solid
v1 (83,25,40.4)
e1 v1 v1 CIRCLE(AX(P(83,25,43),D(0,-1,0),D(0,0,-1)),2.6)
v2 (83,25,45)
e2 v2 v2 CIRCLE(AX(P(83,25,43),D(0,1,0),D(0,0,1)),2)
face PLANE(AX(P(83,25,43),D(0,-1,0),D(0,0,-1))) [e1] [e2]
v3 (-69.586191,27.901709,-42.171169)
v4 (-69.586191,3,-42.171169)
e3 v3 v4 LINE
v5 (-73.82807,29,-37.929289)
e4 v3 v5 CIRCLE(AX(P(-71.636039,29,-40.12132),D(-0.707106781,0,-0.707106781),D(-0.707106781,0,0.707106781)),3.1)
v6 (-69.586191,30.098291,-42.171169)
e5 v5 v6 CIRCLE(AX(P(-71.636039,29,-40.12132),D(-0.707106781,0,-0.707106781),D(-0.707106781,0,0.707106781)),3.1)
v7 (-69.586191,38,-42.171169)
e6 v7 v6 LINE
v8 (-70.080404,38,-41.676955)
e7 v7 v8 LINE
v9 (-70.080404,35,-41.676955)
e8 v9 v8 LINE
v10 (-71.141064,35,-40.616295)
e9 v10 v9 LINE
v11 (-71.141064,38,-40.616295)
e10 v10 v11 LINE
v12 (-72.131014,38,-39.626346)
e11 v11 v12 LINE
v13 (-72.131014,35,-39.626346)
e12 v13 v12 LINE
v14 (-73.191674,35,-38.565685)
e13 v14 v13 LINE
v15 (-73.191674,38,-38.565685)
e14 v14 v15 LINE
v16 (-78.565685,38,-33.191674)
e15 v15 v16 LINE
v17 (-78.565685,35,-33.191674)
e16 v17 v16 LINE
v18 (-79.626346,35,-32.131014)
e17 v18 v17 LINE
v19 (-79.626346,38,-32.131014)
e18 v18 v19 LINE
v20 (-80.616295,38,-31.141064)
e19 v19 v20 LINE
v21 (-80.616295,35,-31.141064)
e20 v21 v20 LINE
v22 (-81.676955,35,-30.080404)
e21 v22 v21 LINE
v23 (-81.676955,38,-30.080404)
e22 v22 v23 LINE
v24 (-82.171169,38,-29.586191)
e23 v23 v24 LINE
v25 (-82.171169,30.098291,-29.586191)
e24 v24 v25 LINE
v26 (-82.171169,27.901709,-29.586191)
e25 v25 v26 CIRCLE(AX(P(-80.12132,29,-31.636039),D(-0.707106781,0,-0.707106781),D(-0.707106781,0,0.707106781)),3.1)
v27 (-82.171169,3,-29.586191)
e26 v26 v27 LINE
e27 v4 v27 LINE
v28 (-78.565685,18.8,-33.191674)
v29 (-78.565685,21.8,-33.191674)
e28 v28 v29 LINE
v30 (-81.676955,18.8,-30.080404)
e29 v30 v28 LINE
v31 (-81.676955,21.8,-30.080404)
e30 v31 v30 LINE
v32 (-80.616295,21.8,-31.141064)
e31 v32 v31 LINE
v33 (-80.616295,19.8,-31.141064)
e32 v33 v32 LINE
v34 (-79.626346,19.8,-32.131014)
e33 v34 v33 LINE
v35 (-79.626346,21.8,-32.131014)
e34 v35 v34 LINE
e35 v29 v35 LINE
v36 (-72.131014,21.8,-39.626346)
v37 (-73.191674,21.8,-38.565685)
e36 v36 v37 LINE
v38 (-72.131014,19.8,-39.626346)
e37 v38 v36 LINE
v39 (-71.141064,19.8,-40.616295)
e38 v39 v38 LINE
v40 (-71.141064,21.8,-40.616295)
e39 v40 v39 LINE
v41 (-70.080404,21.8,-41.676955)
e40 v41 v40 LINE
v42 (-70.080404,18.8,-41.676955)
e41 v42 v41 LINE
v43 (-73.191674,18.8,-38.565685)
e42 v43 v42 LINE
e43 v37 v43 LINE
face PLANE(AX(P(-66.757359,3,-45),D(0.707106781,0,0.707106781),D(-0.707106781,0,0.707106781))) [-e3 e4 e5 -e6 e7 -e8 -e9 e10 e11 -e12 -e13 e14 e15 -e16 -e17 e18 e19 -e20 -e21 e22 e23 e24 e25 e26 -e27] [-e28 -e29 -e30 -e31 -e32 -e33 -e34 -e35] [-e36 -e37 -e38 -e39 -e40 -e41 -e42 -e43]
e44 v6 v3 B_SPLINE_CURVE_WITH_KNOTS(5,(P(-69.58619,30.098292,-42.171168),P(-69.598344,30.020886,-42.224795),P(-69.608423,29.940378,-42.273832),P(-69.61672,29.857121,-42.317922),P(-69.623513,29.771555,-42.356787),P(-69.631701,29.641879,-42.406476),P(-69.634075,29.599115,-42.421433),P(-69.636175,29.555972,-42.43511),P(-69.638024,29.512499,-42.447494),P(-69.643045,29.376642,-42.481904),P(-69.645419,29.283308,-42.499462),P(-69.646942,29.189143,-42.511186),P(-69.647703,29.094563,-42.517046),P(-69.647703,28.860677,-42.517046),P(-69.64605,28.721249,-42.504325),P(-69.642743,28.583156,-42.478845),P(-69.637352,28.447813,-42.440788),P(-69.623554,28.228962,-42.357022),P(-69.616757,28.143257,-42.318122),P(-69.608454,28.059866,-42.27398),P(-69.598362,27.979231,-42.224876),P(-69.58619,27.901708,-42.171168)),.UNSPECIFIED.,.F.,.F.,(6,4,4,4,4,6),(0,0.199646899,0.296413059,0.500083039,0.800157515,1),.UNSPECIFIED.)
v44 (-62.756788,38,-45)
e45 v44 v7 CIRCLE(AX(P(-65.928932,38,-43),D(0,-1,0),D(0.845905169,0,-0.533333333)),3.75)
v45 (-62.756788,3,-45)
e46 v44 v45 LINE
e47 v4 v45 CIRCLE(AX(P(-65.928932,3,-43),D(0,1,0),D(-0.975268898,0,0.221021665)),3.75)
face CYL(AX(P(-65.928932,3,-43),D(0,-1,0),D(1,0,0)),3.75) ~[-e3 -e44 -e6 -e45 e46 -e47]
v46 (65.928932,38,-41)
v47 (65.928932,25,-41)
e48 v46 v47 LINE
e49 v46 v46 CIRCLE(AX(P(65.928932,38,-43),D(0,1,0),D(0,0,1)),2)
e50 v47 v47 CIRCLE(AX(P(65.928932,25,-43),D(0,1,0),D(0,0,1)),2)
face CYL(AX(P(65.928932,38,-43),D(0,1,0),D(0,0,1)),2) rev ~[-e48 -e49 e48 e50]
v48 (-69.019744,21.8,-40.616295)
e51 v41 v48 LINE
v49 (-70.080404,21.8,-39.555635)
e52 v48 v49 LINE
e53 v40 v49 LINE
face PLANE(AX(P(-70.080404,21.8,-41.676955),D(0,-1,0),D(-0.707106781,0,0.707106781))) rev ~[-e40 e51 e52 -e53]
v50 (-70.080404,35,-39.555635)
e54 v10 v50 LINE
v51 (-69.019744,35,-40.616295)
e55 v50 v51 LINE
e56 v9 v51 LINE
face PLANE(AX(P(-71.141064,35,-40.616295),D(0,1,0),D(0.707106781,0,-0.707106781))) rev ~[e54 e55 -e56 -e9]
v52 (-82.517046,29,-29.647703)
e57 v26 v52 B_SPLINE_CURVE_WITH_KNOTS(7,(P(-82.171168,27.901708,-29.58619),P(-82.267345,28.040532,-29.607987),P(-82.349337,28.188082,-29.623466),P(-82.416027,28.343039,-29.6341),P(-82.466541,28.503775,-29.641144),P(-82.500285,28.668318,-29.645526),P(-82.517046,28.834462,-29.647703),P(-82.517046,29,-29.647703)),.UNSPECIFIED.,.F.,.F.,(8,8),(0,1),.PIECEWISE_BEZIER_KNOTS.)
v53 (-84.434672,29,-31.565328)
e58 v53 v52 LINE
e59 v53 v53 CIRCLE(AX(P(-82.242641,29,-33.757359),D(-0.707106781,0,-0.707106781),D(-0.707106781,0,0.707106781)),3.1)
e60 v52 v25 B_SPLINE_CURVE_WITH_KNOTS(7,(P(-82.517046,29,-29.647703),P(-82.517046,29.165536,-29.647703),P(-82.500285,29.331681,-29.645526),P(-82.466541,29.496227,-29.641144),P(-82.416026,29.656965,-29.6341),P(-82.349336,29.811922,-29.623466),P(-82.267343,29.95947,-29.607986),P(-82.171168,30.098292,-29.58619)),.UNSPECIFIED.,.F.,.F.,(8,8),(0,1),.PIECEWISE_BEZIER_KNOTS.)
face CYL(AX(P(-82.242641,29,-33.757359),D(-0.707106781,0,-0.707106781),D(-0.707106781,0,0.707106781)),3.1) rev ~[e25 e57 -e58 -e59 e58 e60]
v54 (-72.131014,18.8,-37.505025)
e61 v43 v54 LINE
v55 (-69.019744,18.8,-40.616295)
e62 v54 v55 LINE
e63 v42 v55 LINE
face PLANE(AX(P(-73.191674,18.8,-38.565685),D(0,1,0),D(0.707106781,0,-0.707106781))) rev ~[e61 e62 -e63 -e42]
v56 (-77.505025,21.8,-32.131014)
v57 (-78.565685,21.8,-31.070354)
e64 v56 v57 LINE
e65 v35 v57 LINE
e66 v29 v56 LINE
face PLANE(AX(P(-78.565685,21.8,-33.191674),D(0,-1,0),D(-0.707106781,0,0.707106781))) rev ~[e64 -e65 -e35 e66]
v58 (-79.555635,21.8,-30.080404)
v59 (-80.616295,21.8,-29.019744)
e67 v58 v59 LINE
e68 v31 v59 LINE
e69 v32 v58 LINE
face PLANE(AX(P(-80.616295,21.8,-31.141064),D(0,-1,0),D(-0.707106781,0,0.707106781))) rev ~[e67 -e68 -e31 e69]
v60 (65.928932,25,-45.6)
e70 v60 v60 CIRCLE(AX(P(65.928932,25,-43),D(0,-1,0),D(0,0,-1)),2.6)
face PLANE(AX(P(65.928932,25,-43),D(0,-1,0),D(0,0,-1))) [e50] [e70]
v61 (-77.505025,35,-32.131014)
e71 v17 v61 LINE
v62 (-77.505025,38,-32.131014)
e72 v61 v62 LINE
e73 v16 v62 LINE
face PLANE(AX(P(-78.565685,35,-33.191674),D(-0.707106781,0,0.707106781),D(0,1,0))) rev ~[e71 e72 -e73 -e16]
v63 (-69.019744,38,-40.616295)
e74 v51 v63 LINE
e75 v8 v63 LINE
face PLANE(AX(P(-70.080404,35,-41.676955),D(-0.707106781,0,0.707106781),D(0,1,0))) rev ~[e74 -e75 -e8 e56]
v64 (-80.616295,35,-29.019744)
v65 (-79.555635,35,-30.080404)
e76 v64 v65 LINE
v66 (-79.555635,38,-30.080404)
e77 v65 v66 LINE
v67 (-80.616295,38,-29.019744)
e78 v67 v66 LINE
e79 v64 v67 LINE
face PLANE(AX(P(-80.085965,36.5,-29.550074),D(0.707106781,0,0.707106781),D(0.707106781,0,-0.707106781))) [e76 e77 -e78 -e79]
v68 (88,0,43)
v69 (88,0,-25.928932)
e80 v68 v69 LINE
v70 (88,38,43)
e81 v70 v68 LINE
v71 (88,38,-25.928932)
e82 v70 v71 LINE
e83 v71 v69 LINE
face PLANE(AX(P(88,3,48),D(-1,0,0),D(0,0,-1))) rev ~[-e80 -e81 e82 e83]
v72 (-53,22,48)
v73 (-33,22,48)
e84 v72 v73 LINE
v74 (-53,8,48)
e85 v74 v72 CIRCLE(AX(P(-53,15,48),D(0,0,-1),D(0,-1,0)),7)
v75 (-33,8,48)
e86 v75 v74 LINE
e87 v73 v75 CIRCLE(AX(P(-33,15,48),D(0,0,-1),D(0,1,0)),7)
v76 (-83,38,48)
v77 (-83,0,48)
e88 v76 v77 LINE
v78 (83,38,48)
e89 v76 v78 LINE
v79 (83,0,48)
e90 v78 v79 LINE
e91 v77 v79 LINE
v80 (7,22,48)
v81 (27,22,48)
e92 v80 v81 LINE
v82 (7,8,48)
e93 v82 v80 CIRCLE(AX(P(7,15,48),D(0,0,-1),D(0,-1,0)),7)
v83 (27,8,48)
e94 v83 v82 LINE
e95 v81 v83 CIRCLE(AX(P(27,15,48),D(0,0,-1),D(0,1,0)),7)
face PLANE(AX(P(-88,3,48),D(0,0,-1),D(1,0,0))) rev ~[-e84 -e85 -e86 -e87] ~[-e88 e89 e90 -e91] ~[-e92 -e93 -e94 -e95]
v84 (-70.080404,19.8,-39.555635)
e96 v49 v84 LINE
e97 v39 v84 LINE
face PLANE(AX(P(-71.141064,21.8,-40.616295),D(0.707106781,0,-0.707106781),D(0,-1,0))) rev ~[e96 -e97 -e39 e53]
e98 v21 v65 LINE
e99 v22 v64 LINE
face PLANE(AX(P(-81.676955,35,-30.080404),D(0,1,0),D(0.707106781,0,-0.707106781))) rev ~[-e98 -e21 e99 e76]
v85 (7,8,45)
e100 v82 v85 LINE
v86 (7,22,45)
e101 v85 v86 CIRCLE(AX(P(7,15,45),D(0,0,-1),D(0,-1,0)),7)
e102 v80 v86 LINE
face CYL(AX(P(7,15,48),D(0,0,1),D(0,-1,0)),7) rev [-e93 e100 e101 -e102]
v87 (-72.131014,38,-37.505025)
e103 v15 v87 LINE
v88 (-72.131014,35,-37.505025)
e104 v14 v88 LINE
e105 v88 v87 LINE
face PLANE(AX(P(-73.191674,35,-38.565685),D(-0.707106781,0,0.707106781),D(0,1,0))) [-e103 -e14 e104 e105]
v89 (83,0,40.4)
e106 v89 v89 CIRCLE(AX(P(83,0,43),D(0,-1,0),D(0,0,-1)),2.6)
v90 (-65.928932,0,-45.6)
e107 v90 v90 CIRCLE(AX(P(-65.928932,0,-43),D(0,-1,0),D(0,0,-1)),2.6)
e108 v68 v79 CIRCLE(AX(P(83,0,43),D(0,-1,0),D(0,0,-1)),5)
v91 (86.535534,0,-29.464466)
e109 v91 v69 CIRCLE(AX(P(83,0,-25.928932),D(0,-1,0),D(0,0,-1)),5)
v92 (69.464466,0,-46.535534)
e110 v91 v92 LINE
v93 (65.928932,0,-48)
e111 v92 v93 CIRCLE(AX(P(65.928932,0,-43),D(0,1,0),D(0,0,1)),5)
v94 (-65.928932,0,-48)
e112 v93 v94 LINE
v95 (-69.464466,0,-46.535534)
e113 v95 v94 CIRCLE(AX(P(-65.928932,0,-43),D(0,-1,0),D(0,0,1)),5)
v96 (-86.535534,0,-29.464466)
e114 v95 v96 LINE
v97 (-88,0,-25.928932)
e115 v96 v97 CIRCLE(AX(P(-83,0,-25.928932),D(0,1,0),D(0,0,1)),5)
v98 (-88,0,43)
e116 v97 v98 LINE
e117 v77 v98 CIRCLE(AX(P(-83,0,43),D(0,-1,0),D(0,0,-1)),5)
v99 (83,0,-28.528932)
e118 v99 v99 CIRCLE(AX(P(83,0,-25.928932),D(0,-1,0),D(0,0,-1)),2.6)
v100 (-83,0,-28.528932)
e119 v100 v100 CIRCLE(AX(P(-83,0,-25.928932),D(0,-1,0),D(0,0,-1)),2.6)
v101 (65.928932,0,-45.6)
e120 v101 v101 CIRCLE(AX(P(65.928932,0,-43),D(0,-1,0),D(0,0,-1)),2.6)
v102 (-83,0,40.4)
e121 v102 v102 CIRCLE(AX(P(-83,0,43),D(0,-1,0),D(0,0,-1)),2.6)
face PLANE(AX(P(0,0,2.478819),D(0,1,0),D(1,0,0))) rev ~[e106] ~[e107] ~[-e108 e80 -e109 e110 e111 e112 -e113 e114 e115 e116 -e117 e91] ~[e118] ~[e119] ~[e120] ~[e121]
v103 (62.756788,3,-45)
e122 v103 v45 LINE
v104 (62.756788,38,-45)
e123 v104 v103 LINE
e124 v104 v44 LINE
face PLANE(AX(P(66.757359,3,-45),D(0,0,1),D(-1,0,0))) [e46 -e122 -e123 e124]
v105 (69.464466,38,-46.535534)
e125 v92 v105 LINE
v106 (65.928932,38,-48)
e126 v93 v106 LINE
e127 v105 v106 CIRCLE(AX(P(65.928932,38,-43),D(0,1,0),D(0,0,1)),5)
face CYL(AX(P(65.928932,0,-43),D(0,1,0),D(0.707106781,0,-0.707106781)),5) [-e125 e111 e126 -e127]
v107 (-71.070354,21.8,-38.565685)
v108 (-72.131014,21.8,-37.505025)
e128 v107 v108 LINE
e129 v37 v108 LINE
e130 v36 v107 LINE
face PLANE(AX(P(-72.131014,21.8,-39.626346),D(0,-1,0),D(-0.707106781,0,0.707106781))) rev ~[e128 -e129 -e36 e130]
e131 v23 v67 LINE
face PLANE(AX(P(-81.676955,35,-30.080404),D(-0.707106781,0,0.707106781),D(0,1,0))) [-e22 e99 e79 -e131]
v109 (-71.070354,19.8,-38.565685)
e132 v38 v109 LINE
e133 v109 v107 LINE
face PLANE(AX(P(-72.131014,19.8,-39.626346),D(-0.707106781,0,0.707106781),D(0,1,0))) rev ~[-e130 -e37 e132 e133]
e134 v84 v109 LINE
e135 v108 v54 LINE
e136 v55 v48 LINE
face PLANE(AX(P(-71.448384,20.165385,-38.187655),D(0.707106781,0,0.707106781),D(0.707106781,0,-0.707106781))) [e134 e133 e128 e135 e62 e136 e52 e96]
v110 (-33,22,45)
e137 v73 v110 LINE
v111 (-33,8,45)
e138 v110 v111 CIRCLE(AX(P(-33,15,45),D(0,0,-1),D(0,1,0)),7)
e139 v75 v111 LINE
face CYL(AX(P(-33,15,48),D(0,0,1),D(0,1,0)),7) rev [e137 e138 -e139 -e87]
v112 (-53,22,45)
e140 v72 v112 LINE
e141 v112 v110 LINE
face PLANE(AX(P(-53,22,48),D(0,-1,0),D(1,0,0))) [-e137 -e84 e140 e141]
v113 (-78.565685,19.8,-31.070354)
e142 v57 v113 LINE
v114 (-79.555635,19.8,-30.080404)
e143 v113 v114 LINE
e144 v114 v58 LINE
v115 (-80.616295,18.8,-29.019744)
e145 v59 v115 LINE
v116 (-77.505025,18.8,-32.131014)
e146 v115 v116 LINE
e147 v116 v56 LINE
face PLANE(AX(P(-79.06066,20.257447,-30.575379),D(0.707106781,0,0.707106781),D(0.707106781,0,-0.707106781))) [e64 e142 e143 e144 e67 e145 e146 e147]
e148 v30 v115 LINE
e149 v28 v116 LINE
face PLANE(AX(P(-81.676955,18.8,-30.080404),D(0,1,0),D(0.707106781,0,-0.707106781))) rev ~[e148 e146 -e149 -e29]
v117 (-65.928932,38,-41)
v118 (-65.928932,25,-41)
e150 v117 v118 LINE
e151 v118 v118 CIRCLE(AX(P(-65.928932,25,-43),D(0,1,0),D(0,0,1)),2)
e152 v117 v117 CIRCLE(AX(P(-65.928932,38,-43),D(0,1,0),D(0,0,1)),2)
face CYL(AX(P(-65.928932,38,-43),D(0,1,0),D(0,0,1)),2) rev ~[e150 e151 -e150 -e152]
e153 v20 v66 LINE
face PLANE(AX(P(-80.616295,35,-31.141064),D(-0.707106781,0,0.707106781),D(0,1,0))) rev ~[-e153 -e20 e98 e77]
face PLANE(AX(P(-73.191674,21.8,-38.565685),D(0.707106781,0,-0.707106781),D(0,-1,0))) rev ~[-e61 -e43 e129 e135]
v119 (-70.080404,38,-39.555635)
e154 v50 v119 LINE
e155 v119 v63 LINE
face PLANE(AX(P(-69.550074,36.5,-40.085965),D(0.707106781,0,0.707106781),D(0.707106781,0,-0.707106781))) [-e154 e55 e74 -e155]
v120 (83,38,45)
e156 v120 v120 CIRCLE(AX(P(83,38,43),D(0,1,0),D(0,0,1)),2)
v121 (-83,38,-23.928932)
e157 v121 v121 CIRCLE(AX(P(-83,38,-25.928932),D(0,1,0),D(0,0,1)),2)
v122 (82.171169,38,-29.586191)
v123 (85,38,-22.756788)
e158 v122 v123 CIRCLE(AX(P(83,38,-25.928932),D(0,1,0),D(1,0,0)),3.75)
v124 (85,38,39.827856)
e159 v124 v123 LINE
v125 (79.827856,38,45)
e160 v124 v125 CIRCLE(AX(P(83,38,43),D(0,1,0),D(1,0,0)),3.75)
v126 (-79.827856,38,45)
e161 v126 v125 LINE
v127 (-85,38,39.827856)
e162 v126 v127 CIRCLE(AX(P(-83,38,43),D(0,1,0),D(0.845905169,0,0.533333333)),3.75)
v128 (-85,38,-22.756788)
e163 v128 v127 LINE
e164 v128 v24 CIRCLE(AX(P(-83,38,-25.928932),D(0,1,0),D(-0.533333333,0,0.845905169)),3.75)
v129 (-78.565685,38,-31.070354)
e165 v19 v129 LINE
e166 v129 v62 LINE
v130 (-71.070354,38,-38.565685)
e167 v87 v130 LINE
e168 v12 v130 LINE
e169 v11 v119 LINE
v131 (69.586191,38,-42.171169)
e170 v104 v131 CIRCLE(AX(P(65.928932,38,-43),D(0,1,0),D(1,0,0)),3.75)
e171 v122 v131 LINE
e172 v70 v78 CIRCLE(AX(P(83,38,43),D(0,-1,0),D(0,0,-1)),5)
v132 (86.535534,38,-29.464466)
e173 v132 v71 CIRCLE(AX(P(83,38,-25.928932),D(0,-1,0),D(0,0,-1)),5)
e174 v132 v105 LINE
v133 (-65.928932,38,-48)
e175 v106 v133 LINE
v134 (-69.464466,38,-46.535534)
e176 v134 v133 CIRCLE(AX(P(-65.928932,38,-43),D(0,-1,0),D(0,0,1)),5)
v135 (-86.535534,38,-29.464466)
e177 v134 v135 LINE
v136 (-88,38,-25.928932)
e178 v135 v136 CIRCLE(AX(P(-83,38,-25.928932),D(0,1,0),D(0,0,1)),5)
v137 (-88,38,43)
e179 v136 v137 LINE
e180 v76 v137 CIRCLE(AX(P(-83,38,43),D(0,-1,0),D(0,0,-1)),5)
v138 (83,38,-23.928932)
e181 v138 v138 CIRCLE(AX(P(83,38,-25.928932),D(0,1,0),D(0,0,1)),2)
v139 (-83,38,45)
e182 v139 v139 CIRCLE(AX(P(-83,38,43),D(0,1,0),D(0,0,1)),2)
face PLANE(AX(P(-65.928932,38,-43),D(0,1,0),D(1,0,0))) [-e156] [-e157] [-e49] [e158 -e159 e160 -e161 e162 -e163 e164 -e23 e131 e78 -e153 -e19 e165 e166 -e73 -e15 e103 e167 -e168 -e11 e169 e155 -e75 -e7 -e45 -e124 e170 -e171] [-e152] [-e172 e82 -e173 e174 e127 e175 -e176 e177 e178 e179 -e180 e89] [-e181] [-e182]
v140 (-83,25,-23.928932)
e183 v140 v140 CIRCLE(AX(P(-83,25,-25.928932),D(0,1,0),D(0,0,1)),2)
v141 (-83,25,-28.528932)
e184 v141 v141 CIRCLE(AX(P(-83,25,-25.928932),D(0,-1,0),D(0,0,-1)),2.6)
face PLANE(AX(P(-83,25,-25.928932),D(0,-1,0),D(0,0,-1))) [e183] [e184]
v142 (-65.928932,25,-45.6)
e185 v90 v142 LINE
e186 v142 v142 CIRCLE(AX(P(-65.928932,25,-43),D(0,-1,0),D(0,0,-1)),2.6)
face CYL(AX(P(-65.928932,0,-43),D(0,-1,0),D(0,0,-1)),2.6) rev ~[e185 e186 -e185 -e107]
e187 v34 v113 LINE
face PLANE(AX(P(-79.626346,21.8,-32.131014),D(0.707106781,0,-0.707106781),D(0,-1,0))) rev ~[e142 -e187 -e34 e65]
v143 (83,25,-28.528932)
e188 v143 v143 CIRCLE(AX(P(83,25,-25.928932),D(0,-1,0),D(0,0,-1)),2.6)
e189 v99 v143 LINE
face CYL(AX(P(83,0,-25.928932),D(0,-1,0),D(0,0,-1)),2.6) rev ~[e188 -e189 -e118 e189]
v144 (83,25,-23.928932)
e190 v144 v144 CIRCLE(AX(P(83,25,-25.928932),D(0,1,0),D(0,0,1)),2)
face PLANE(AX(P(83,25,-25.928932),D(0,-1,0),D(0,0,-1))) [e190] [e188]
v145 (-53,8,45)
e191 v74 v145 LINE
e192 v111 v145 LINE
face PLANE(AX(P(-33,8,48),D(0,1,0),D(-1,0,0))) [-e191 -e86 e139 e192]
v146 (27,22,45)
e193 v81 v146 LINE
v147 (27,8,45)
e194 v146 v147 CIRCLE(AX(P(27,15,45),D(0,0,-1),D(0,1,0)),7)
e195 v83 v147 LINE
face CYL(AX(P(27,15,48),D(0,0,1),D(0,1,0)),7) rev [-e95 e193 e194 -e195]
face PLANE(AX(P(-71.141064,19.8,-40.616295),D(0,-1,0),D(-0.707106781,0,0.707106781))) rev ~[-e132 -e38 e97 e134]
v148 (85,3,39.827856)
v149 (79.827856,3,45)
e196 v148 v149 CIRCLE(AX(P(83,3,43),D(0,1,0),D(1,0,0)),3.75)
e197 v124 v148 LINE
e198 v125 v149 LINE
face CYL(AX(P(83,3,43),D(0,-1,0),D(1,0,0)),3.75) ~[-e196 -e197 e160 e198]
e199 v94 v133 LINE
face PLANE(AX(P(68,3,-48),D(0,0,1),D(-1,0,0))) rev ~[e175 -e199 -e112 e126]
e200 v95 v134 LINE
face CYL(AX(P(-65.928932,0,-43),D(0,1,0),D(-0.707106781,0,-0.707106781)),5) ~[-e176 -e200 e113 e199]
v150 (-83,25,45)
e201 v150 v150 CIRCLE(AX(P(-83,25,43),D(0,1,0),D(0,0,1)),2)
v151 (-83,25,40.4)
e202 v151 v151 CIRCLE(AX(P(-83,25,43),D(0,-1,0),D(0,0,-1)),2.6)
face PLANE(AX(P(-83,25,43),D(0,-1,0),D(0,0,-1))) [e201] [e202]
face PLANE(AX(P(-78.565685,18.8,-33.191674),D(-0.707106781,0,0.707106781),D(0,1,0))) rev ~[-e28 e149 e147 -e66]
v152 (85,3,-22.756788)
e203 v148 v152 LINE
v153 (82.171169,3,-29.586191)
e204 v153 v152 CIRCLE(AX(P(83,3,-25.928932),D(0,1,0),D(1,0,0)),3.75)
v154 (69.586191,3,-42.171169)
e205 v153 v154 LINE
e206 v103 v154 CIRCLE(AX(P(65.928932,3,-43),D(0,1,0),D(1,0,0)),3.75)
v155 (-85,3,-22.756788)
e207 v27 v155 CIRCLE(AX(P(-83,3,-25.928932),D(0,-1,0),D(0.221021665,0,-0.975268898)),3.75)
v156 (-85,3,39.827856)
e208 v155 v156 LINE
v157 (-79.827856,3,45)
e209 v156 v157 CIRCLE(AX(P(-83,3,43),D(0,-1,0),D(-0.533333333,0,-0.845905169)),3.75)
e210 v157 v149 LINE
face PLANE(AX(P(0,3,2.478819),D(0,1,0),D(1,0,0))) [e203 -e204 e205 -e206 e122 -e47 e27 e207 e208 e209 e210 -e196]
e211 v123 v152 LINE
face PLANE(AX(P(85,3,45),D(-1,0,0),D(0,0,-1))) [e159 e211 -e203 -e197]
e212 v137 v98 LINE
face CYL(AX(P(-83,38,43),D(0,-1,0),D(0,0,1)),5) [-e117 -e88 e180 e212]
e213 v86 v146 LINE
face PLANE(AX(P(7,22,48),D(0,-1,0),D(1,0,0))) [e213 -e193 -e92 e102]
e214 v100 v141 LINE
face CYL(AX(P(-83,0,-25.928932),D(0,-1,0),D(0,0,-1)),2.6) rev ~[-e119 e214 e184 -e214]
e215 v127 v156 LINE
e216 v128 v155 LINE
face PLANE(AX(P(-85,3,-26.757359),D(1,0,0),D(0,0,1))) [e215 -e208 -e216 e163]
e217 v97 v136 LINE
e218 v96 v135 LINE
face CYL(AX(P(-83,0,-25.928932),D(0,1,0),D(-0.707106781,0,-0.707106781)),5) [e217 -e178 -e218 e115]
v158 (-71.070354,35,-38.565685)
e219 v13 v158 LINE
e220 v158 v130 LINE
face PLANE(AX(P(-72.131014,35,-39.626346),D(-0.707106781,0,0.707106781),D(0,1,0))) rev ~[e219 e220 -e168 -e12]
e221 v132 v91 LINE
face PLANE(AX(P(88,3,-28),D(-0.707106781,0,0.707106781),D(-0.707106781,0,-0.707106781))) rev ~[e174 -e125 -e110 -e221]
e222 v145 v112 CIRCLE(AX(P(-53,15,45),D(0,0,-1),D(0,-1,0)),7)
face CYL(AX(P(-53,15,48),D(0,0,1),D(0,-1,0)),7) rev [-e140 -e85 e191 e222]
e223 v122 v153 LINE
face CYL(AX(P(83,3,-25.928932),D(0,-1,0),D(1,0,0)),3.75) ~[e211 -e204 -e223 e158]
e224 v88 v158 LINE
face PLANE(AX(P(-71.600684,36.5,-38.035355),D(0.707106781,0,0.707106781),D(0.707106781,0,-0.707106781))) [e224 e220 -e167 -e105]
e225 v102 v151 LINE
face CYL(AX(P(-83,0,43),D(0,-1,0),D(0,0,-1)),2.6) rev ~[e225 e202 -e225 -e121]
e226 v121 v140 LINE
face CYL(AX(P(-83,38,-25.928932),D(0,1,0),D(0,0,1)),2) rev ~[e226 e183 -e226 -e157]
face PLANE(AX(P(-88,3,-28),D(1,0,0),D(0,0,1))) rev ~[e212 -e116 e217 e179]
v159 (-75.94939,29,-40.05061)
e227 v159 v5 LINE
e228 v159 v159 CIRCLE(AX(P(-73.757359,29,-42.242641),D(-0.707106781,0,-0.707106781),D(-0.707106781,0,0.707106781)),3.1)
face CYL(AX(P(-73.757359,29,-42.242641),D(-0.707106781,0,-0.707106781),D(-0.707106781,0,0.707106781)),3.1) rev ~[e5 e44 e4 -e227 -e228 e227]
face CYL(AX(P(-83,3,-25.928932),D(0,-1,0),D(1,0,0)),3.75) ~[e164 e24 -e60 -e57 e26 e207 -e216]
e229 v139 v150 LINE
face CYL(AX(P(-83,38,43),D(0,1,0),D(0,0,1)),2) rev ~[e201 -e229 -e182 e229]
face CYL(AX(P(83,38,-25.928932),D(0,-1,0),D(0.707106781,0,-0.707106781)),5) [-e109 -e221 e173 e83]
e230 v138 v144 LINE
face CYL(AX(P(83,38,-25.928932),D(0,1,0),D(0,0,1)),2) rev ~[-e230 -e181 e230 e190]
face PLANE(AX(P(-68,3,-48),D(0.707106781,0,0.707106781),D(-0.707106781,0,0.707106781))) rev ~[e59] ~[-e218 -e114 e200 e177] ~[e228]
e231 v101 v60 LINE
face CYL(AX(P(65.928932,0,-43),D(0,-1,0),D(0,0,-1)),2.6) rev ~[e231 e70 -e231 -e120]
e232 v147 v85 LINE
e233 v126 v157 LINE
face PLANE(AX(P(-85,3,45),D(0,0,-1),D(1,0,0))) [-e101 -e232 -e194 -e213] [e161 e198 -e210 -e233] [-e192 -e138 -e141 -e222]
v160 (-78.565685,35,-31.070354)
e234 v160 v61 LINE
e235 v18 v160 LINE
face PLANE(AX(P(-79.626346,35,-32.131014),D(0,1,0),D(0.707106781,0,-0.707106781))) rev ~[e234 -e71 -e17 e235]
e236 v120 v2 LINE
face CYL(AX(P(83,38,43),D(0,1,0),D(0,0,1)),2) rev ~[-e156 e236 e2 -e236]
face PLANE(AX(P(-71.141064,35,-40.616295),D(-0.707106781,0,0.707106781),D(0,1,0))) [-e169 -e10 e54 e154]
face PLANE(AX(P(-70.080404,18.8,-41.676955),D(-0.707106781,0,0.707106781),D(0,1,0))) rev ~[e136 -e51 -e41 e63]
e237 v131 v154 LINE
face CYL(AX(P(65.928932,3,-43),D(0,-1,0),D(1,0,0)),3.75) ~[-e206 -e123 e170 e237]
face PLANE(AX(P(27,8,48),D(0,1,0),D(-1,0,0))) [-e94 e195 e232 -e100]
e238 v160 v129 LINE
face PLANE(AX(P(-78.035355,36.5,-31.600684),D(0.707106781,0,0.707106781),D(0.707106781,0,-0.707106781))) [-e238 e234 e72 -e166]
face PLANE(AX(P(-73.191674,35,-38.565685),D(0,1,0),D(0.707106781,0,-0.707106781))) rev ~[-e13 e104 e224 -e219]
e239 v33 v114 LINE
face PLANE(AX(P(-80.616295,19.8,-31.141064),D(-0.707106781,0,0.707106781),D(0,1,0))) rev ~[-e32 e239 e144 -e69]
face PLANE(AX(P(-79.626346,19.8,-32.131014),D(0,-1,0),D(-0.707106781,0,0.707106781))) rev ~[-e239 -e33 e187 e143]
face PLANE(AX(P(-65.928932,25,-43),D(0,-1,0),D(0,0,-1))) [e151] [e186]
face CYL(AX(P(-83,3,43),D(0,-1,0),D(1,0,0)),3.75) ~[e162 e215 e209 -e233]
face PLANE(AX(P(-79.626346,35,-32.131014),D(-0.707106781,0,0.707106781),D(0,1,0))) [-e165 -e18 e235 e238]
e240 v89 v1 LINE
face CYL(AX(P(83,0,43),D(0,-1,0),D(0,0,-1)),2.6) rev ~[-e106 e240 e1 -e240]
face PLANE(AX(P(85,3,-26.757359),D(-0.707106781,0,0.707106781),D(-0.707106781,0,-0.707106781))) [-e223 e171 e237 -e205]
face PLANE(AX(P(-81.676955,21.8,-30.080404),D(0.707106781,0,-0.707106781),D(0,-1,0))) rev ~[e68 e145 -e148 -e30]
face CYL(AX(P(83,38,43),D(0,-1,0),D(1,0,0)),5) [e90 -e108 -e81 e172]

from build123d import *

# Parameters (mm, degrees)
BOSS_EXTRUDE1_DEPTH = 3
BOSS_EXTRUDE2_DEPTH = 35
SKETCH3_R           = 3.1
CUT_EXTRUDE1_DEPTH  = 10
SKETCH4_W           = 1.5
SKETCH4_H           = 3
BOSS_EXTRUDE3_DEPTH = 1.5
SKETCH6_R           = 3.75
BOSS_EXTRUDE4_DEPTH = 35
SKETCH7_R           = 2
CUT_EXTRUDE2_DEPTH  = 38
SKETCH8_R           = 2.6
CUT_EXTRUDE3_DEPTH  = 25
CUT_EXTRUDE4_DEPTH  = 3
FILLET1_R           = 5


with BuildPart() as part:
    # Sketch1 → Boss-Extrude1 (new body)
    with BuildSketch(Plane(origin=(0, 0, 0), x_dir=(1, 0, 0), z_dir=(0, 1, 0))):
        Polygon((-68, 48), (-88, 28), (-88, -48), (88, -48), (88, 28), (68, 48), align=None)
    extrude(amount=BOSS_EXTRUDE1_DEPTH)

    # Sketch2 → Boss-Extrude2 (add)
    with BuildSketch(Plane(origin=(0, 3, 0), x_dir=(1, 0, 0), z_dir=(0, 1, 0))):
        Polygon((88, 28), (68, 48), (-68, 48), (-88, 28), (-88, -48), (88, -48), align=None)
        Polygon((85, -45), (85, 26.757359313), (66.757359313, 45), (-66.757359313, 45), (-85, 26.757359313), (-85, -45), align=None, mode=Mode.SUBTRACT)
    extrude(amount=BOSS_EXTRUDE2_DEPTH)

    # Sketch3 → Cut-Extrude1 (cut)
    with BuildSketch(Plane(origin=(-58, 0, -58), x_dir=(-0.7071067811865475, 0, 0.7071067811865477), z_dir=(-0.7071067811865477, 0, -0.7071067811865475))):
        with Locations((34.284271247, 29)):
            Circle(SKETCH3_R)
        with Locations((22.284271247, 29)):
            Circle(SKETCH3_R)
    extrude(amount=-CUT_EXTRUDE1_DEPTH, mode=Mode.SUBTRACT)

    # Sketch4 → Boss-Extrude3 (add)
    with BuildSketch(Plane(origin=(-55.878679656, 0, -55.878679656), x_dir=(0.7071067811865476, 0, -0.7071067811865475), z_dir=(0.7071067811865475, 0, 0.7071067811865476))):
        with Locations((-20.834271247, 36.5)):
            Rectangle(SKETCH4_W, SKETCH4_H)
        Polygon((-22.284271247, 18.8), (-22.284271247, 19.8), (-22.984271247, 19.8), (-22.984271247, 21.8), (-24.484271247, 21.8), (-24.484271247, 18.8), align=None)
        Polygon((-21.584271247, 19.8), (-22.284271247, 19.8), (-22.284271247, 18.8), (-20.084271247, 18.8), (-20.084271247, 21.8), (-21.584271247, 21.8), align=None)
        Polygon((-32.084271247, 18.8), (-32.084271247, 21.8), (-33.584271247, 21.8), (-33.584271247, 19.8), (-34.984271247, 19.8), (-34.984271247, 21.8), (-36.484271247, 21.8), (-36.484271247, 18.8), align=None)
        with Locations((-35.734271247, 36.5)):
            Rectangle(SKETCH4_W, SKETCH4_H)
        with Locations((-23.734271247, 36.5)):
            Rectangle(SKETCH4_W, SKETCH4_H)
        with Locations((-32.834271247, 36.5)):
            Rectangle(SKETCH4_W, SKETCH4_H)
    extrude(amount=BOSS_EXTRUDE3_DEPTH)

    # Sketch6 → Boss-Extrude4 (add)
    with BuildSketch(Plane(origin=(0, 3, 0), x_dir=(1, 0, 0), z_dir=(0, 1, 0))):
        with Locations((-65.928932188, 43)):
            Circle(SKETCH6_R)
        with Locations((65.928932188, 43)):
            Circle(SKETCH6_R)
        with Locations((83, 25.928932188)):
            Circle(SKETCH6_R)
        with Locations((83, -43)):
            Circle(SKETCH6_R)
        with Locations((-83, -43)):
            Circle(SKETCH6_R)
        with Locations((-83, 25.928932188)):
            Circle(SKETCH6_R)
    extrude(amount=BOSS_EXTRUDE4_DEPTH)

    # Sketch7 → Cut-Extrude2 (cut)
    with BuildSketch(Plane(origin=(0, 38, 0), x_dir=(1, 0, 0), z_dir=(0, 1, 0))):
        with Locations(Location((-65.928932188, 43, 0), (0, 0, 270))):
            Circle(SKETCH7_R)
        with Locations(Location((-83, 25.928932188, 0), (0, 0, 270))):
            Circle(SKETCH7_R)
        with Locations(Location((-83, -43, 0), (0, 0, 270))):
            Circle(SKETCH7_R)
        with Locations(Location((83, -43, 0), (0, 0, 270))):
            Circle(SKETCH7_R)
        with Locations(Location((83, 25.928932188, 0), (0, 0, 270))):
            Circle(SKETCH7_R)
        with Locations(Location((65.928932188, 43, 0), (0, 0, 270))):
            Circle(SKETCH7_R)
    extrude(amount=-CUT_EXTRUDE2_DEPTH, mode=Mode.SUBTRACT)

    # Sketch8 → Cut-Extrude3 (cut)
    with BuildSketch(Plane.XZ):
        with Locations(Location((-83, 43, 0), (0, 0, 270))):
            Circle(SKETCH8_R)
        with Locations(Location((83, 43, 0), (0, 0, 270))):
            Circle(SKETCH8_R)
        with Locations(Location((83, -25.928932188, 0), (0, 0, 270))):
            Circle(SKETCH8_R)
        with Locations(Location((65.928932188, -43, 0), (0, 0, 270))):
            Circle(SKETCH8_R)
        with Locations(Location((-65.928932188, -43, 0), (0, 0, 270))):
            Circle(SKETCH8_R)
        with Locations(Location((-83, -25.928932188, 0), (0, 0, 270))):
            Circle(SKETCH8_R)
    extrude(amount=-CUT_EXTRUDE3_DEPTH, mode=Mode.SUBTRACT)

    # Sketch9 → Cut-Extrude4 (cut)
    with BuildSketch(Plane.XY.offset(48)):
        with BuildLine():
            Line((-33, 8), (-53, 8))
            ThreePointArc((-53, 8), (-60, 15), (-53, 22))
            Line((-53, 22), (-33, 22))
            ThreePointArc((-33, 22), (-26, 15), (-33, 8))
        make_face()
        with BuildLine():
            Line((27, 8), (7, 8))
            ThreePointArc((7, 8), (0, 15), (7, 22))
            Line((7, 22), (27, 22))
            ThreePointArc((27, 22), (34, 15), (27, 8))
        make_face()
    extrude(amount=-CUT_EXTRUDE4_DEPTH, mode=Mode.SUBTRACT)

    # Fillet1
    fillet1_edges = [part.edges().sort_by_distance(p)[0] for p in [
        (88, 19, 48),
        (-88, 19, 48),
        (-88, 19, -28),
        (-68, 19, -48),
        (68, 19, -48),
        (88, 19, -28),
    ]]
    fillet(fillet1_edges, radius=FILLET1_R)


solid = part.part
